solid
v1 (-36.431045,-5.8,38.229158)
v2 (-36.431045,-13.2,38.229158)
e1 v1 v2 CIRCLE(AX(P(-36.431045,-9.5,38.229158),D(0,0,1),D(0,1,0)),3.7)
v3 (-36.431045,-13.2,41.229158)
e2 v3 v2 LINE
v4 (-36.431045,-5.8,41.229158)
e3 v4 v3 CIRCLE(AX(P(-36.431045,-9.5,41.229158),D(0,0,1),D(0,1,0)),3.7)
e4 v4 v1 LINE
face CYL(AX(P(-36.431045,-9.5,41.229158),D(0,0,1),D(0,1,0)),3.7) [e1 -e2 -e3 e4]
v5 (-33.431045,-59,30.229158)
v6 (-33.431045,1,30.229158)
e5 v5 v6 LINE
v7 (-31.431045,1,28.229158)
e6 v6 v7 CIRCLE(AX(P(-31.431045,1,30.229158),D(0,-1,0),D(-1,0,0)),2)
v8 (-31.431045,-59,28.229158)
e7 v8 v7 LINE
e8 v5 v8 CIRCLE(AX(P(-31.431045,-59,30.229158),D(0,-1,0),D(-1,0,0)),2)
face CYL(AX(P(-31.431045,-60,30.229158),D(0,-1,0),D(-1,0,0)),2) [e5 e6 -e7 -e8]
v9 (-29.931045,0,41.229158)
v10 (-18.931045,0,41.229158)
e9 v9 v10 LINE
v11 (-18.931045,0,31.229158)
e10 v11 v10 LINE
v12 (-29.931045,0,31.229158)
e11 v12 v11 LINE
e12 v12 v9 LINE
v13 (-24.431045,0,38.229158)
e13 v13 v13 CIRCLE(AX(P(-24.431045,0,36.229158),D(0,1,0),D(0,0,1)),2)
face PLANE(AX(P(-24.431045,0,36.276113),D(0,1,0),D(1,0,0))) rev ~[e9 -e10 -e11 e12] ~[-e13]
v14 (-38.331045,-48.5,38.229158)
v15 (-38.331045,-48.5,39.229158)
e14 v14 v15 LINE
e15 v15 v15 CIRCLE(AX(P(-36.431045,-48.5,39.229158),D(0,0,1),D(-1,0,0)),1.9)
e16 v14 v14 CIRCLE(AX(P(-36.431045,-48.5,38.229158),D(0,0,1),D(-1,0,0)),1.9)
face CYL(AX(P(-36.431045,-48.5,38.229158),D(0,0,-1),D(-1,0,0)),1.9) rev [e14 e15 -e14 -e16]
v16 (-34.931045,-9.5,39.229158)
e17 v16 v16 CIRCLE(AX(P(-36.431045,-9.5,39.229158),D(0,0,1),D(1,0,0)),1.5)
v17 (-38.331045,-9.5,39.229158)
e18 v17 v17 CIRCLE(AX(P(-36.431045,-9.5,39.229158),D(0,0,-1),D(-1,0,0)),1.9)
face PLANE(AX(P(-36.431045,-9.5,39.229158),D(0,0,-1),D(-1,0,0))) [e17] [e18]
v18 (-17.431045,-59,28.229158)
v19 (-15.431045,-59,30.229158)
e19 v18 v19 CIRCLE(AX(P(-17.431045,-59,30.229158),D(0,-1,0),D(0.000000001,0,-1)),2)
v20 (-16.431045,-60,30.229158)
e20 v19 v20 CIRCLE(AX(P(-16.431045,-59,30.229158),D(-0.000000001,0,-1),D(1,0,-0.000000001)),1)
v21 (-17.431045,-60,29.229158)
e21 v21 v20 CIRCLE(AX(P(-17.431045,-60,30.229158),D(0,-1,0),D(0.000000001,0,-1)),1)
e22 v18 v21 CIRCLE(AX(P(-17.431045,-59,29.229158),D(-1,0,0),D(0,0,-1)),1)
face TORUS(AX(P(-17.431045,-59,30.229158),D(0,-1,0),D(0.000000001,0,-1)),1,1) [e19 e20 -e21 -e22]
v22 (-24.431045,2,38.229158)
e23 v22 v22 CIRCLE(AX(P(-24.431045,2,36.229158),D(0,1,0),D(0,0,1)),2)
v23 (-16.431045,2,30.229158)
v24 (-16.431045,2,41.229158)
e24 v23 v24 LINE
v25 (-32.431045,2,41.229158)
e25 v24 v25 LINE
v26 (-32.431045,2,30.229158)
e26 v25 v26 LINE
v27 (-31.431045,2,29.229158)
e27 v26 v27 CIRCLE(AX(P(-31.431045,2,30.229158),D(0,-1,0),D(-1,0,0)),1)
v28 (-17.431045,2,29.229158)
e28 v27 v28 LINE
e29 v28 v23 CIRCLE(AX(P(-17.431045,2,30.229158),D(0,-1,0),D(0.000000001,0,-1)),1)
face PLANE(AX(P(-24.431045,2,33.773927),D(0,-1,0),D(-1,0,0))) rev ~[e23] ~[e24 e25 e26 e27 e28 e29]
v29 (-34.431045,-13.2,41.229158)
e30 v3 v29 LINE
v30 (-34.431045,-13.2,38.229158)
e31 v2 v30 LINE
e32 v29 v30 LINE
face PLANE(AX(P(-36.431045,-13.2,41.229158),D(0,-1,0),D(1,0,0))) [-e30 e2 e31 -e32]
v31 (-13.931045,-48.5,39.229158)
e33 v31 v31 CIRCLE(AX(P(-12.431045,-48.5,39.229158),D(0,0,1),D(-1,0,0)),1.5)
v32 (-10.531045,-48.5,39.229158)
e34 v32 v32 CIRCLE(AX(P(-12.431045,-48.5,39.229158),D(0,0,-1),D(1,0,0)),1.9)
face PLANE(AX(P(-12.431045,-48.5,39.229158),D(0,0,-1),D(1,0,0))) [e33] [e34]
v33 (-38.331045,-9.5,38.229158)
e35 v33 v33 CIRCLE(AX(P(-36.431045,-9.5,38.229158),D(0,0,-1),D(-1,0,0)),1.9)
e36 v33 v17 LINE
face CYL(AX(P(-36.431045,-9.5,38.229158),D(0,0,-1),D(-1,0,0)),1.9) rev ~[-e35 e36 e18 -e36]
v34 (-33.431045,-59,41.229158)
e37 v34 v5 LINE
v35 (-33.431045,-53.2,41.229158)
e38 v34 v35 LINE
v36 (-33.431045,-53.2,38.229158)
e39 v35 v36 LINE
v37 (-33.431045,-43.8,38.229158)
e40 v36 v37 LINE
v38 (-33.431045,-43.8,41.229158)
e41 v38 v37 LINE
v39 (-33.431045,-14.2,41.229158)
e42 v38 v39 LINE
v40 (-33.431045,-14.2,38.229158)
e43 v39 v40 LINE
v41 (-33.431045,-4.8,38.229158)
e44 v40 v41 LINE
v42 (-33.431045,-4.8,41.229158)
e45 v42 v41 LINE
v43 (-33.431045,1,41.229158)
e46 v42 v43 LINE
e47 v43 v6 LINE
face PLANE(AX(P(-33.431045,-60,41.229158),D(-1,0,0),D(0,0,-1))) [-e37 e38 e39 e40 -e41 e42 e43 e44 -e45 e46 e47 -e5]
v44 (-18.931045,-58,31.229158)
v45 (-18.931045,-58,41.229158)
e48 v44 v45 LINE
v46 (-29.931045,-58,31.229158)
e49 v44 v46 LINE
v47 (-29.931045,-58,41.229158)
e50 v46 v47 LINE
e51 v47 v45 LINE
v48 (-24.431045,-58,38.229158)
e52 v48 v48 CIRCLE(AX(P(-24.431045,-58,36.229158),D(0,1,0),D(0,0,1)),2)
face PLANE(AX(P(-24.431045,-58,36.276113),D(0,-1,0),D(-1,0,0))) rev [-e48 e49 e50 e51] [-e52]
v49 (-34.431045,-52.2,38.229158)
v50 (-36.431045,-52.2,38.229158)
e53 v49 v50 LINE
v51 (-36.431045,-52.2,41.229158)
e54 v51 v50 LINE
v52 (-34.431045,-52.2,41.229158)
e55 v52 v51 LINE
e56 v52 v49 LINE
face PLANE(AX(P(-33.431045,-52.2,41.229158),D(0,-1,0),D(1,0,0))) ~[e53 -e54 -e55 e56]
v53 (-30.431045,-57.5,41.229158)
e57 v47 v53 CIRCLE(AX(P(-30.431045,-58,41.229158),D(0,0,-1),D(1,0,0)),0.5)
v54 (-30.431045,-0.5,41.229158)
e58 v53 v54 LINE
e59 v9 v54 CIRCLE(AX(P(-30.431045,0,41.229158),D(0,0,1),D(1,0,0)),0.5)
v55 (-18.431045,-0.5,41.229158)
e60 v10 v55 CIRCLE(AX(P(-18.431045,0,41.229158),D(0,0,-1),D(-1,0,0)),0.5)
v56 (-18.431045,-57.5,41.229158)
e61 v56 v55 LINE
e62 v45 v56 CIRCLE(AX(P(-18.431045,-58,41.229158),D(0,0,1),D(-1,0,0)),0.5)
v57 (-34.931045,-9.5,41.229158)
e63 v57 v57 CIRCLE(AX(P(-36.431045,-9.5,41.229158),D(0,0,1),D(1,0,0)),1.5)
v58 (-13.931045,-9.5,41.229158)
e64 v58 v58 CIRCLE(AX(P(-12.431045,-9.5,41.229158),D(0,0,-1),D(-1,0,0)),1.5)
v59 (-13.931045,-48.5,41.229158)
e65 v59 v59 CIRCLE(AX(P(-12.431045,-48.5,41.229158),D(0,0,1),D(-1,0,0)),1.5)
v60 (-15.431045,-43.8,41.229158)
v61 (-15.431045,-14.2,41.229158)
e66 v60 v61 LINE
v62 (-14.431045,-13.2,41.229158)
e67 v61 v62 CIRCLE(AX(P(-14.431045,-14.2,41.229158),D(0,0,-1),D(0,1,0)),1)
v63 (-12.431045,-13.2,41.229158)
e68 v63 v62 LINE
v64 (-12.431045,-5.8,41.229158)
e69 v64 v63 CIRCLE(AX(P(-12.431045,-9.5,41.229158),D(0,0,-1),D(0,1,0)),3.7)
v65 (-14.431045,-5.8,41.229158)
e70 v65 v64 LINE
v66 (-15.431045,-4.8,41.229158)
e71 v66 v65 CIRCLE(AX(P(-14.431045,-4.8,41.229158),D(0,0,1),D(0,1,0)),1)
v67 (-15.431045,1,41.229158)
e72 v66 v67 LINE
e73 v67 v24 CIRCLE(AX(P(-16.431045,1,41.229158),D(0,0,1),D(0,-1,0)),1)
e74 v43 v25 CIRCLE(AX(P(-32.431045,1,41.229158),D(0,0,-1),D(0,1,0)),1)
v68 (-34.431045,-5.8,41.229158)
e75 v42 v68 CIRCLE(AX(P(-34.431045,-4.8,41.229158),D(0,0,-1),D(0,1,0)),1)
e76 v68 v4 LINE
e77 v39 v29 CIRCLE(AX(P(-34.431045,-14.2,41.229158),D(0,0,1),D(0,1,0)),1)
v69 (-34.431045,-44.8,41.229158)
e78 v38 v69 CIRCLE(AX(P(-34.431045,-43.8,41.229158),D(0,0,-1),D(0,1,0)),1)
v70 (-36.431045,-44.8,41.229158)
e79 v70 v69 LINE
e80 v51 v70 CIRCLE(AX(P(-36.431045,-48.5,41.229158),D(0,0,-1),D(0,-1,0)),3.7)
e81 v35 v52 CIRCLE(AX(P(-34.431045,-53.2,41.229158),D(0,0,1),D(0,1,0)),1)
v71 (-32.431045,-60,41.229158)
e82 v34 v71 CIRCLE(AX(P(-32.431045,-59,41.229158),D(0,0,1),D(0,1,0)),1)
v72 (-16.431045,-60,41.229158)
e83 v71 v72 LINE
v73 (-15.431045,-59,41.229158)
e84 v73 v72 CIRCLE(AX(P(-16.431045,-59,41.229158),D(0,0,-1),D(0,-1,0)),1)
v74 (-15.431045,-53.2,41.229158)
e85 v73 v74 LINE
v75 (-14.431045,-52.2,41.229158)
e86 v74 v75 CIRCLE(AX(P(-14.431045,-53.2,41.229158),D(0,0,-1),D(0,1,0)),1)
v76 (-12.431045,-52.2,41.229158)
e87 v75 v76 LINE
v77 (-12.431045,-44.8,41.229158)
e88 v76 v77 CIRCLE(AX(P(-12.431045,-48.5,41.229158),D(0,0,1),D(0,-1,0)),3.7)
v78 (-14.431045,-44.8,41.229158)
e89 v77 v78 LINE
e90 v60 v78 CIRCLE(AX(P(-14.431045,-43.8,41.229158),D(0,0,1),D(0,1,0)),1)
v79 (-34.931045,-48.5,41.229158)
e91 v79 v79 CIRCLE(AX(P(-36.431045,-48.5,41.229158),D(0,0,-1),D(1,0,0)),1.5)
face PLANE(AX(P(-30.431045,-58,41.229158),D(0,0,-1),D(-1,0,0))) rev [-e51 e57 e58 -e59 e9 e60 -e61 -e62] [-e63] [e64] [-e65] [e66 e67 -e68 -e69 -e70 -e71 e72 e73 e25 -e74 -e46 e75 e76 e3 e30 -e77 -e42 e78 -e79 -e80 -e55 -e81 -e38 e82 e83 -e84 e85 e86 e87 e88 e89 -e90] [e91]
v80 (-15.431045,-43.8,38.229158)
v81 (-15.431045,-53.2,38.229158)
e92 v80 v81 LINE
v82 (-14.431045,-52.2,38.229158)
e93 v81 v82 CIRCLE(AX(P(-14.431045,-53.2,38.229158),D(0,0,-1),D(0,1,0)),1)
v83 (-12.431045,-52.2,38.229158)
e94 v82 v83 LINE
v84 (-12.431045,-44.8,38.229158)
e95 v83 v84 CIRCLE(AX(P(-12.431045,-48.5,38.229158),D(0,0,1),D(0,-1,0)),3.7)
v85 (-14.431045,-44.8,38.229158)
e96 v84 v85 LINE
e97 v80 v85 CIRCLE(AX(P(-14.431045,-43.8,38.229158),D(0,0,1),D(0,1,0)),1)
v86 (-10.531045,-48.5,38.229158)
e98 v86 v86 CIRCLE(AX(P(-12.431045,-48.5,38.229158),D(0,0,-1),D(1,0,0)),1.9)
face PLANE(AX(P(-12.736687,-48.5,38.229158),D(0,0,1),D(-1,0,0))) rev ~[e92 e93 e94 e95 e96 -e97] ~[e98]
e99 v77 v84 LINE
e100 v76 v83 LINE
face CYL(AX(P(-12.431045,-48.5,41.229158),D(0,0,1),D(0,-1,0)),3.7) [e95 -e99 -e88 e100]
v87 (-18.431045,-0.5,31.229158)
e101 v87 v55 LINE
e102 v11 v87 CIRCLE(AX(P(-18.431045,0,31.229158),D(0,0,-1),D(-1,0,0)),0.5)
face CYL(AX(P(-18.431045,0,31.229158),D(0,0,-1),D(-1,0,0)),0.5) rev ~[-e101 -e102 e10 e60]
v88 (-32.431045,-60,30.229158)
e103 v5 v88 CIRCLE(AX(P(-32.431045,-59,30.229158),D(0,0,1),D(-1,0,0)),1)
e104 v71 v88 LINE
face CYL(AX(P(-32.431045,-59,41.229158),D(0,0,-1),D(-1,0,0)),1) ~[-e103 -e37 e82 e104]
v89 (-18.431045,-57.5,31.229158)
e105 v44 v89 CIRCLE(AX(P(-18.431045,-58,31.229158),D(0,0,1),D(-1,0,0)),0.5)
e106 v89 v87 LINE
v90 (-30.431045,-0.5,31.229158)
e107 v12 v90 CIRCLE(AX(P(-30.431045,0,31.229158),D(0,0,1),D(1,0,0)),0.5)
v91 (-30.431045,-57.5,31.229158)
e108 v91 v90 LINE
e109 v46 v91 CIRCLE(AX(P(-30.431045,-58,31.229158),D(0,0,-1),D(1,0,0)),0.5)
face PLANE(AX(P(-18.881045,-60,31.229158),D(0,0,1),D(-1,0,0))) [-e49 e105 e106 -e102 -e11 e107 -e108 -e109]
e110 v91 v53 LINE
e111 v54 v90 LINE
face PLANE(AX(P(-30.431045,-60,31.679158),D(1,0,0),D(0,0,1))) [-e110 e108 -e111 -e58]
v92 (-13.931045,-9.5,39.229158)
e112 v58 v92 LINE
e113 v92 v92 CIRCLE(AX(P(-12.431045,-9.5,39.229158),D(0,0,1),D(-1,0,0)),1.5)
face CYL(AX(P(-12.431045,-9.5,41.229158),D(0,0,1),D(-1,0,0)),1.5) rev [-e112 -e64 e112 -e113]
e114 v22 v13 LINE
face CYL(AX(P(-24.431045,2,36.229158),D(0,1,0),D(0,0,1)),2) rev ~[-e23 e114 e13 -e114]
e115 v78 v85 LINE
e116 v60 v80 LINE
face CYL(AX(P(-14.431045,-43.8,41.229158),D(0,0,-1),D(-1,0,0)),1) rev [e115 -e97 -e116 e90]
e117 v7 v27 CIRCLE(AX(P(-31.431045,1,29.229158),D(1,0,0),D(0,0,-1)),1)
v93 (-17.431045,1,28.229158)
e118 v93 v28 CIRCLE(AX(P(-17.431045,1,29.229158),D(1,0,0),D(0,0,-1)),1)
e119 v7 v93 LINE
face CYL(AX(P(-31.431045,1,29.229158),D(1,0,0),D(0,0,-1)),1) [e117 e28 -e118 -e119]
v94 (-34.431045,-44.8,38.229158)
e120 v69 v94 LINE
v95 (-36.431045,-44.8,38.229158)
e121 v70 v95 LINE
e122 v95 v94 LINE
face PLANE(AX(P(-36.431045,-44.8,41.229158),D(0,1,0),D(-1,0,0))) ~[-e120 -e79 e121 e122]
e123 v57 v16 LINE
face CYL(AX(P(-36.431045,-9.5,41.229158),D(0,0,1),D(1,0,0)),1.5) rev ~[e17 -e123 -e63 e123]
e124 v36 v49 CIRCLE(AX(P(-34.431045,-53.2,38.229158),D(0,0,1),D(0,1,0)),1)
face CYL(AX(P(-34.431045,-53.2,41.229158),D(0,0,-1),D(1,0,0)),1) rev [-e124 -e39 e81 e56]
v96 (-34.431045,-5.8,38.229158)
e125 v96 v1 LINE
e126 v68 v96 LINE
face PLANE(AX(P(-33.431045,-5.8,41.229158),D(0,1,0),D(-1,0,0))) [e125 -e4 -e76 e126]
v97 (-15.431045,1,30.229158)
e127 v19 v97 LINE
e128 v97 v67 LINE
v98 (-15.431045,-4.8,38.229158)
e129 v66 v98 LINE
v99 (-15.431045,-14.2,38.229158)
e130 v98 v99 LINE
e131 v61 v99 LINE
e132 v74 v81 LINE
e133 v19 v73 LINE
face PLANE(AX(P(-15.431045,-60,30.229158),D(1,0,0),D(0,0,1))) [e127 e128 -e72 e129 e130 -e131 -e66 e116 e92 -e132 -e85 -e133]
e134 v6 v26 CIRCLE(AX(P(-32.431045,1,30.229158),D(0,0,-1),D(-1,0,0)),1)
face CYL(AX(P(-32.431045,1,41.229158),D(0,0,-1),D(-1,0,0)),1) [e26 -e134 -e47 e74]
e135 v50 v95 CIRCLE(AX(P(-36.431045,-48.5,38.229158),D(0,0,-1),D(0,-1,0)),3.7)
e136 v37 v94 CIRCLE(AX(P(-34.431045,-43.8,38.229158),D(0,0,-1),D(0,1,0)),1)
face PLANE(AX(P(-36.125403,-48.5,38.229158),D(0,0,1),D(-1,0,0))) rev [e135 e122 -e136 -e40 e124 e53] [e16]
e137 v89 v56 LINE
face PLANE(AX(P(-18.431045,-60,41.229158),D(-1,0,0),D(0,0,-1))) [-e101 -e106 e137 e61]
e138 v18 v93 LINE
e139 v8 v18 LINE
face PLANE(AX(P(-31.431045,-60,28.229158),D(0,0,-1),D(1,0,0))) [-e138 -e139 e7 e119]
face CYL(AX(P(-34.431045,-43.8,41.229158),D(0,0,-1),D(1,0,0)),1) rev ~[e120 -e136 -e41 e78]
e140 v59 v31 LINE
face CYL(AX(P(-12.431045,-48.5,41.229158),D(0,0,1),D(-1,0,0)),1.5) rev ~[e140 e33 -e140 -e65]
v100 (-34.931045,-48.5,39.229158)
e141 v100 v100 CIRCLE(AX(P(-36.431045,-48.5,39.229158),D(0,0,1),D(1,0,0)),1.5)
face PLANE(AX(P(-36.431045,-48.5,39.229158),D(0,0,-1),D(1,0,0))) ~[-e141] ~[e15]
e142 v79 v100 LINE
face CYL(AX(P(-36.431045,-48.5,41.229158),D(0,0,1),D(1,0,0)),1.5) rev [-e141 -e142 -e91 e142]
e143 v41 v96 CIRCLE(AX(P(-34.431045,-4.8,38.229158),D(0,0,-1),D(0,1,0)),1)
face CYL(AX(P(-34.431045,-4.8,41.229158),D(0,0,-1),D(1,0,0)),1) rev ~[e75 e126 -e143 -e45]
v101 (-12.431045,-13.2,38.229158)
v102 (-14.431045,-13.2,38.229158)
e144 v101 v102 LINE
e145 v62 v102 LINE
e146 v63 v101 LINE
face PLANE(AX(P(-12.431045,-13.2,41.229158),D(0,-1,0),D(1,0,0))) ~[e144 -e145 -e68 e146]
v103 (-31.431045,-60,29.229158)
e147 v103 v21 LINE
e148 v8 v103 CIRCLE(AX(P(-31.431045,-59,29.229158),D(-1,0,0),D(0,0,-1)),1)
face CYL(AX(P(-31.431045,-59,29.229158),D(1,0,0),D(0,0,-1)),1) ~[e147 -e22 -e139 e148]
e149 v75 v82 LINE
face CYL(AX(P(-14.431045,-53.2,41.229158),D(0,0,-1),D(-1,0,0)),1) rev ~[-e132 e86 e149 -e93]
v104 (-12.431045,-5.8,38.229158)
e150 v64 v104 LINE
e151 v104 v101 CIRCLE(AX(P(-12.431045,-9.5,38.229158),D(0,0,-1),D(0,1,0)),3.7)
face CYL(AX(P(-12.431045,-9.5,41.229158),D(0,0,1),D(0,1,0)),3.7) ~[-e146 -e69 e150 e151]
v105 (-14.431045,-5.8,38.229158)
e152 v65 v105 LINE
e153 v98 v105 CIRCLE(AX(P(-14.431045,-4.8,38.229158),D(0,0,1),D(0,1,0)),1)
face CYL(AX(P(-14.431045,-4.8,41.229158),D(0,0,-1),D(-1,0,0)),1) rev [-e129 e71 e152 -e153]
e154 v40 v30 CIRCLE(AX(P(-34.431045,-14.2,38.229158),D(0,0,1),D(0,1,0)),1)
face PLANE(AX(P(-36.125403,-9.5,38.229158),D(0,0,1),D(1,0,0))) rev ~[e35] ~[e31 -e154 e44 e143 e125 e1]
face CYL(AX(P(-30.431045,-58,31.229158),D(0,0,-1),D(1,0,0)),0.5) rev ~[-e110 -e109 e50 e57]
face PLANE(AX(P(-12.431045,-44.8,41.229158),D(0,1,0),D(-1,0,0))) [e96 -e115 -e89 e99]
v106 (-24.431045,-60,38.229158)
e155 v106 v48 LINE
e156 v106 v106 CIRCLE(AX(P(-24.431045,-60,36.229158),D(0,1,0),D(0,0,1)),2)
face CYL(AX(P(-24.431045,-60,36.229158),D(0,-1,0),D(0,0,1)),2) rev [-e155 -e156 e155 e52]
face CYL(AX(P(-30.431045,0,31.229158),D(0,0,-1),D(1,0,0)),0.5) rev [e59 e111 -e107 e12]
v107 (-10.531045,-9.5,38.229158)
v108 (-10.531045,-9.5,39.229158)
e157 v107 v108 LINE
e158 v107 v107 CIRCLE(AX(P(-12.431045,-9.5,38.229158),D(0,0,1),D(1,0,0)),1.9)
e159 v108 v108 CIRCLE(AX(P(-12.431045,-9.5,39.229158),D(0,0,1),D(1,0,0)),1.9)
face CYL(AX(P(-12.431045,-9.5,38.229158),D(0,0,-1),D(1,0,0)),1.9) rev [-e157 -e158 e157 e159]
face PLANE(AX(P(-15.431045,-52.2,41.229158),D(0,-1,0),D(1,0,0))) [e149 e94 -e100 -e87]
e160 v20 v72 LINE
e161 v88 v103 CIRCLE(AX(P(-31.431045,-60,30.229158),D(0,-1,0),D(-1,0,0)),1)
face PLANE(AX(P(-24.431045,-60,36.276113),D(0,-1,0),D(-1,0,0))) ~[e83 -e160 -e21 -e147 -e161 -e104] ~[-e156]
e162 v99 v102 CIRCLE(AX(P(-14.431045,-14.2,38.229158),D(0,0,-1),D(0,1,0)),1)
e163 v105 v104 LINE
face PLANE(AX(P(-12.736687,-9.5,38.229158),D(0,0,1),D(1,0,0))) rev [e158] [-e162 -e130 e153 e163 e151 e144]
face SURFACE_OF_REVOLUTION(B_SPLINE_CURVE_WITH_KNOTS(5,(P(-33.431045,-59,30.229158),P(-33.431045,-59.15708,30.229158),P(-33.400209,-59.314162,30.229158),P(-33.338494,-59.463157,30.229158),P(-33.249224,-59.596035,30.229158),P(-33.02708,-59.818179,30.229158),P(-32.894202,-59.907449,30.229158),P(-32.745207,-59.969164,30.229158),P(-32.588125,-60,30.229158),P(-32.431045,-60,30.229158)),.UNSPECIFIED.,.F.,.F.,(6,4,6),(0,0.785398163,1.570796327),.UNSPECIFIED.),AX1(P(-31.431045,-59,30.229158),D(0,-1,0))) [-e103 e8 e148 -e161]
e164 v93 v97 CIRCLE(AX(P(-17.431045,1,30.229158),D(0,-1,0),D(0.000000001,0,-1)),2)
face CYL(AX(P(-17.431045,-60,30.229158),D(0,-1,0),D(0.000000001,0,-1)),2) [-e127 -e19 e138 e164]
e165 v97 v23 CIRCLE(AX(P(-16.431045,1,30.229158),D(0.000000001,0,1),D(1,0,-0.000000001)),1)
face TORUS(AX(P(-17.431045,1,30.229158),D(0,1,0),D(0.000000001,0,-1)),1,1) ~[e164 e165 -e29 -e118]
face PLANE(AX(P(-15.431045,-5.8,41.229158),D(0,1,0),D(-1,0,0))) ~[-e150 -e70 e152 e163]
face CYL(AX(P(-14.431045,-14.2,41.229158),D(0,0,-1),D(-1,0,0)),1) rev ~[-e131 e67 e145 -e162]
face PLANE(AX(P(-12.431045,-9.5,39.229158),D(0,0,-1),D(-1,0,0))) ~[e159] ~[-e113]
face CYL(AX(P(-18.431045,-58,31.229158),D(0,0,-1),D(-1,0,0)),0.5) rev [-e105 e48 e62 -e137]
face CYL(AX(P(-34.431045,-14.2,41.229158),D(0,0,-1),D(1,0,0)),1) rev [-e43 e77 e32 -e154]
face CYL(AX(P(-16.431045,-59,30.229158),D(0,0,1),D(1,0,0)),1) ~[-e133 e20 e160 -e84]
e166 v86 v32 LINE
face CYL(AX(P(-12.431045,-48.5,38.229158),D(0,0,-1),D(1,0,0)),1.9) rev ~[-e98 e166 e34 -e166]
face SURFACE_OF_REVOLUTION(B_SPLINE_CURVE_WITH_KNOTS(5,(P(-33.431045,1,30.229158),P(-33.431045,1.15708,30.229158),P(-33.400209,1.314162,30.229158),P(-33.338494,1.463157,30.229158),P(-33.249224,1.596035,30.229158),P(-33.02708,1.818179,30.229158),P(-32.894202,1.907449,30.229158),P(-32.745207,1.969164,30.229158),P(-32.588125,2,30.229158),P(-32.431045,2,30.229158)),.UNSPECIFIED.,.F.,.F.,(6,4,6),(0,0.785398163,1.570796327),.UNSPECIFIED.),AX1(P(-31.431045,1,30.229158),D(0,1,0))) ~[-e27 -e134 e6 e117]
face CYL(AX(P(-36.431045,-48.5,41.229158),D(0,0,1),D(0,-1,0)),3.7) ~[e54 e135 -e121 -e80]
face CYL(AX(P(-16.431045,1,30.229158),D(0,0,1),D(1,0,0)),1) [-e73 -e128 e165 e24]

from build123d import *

# Parameters (mm, degrees)
RESSALTO_EXTRUS_O1_DEPTH  = 2
ESBO_O2_R                 = 2
CORTE_EXTRUS_O1_DEPTH     = 2
RESSALTO_EXTRUS_O2_START  = -62
RESSALTO_EXTRUS_O2_DEPTH  = 62
ESBO_O4_R                 = 1.5
RESSALTO_EXTRUS_O4_DEPTH  = 3
FILETE2_R                 = 1
FILETE3_R                 = 1
ESBO_O6_R                 = 1.9
CORTE_EXTRUS_O2_DEPTH     = 1
ESPELHAR3_COPY_1_SKETCH_R = 1.5
ESPELHAR3_COPY_1_DEPTH    = 3
ESPELHAR3_COPY_2_SKETCH_R = 1.9
ESPELHAR3_COPY_2_DEPTH    = 1
FILETE4_R                 = 1
CORTE_EXTRUS_O3_START     = -10
ESBO_O7_W                 = 12
ESBO_O7_H                 = 58
CORTE_EXTRUS_O3_DEPTH     = 10
ESPELHAR5_START           = -10
ESPELHAR5_COPY_1_SKETCH_W = 12
ESPELHAR5_COPY_1_SKETCH_H = 58
ESPELHAR5_COPY_1_DEPTH    = 10


with BuildPart() as part:
    # Esboço1 → Ressalto-extrusão1 (new body)
    with BuildSketch(Plane(origin=(0, 0, 0), x_dir=(1, 0, 0), z_dir=(0, 1, 0))):
        with BuildLine():
            Line((-30.431045005, -40.729157749), (-30.431045005, -41.229157749))
            Line((-30.431045005, -41.229157749), (-29.931045005, -41.229157749))
            Line((-29.931045005, -41.229157749), (-18.931045005, -41.229157749))
            Line((-18.931045005, -41.229157749), (-18.431045005, -41.229157749))
            Line((-18.431045005, -41.229157749), (-18.431045005, -40.729157749))
            Line((-18.431045005, -40.729157749), (-18.431045005, -31.729157749))
            Line((-18.431045005, -31.729157749), (-18.431045005, -31.679157749))
            ThreePointArc((-18.431045005, -31.679157749), (-18.562846954, -31.360959697), (-18.881045005, -31.229157749))
            Line((-18.881045005, -31.229157749), (-18.931045005, -31.229157749))
            Line((-18.931045005, -31.229157749), (-29.931045005, -31.229157749))
            Line((-29.931045005, -31.229157749), (-29.981045005, -31.229157749))
            ThreePointArc((-29.981045005, -31.229157749), (-30.299243057, -31.360959697), (-30.431045005, -31.679157749))
            Line((-30.431045005, -31.679157749), (-30.431045005, -31.729157749))
            Line((-30.431045005, -31.729157749), (-30.431045005, -40.729157749))
        make_face()
    ressalto_extrus_o1 = extrude(amount=RESSALTO_EXTRUS_O1_DEPTH)

    # Esboço2 → Corte-extrusão1 (cut)
    with BuildSketch(Plane(origin=(0, 2, 0), x_dir=(1, 0, 0), z_dir=(0, 1, 0))):
        with Locations(Location((-24.431045005, -36.229157749, 0), (0, 0, 270))):
            Circle(ESBO_O2_R)
    corte_extrus_o1 = extrude(amount=-CORTE_EXTRUS_O1_DEPTH, mode=Mode.SUBTRACT)

    # Esboço3 → Ressalto-extrusão2 (add)
    with BuildSketch(Plane(origin=(0, 2, 0), x_dir=(1, 0, 0), z_dir=(0, 1, 0)).offset(RESSALTO_EXTRUS_O2_START)):
        with BuildLine():
            Line((-29.931045005, -31.229157749), (-29.981045005, -31.229157749))
            ThreePointArc((-29.981045005, -31.229157749), (-30.299243057, -31.360959697), (-30.431045005, -31.679157749))
            Line((-30.431045005, -31.679157749), (-30.431045005, -32.172163455))
            Line((-30.431045005, -32.172163455), (-30.431045005, -41.229157749))
            Line((-30.431045005, -41.229157749), (-33.431045005, -41.229157749))
            Line((-33.431045005, -41.229157749), (-33.431045005, -30.229157749))
            ThreePointArc((-33.431045005, -30.229157749), (-32.845258568, -28.814944187), (-31.431045005, -28.229157749))
            Line((-31.431045005, -28.229157749), (-17.431045005, -28.229157749))
            ThreePointArc((-17.431045005, -28.229157749), (-16.016831443, -28.814944187), (-15.431045005, -30.229157749))
            Line((-15.431045005, -30.229157749), (-15.431045005, -41.229157749))
            Line((-15.431045005, -41.229157749), (-18.431045005, -41.229157749))
            Line((-18.431045005, -41.229157749), (-18.431045005, -31.679157749))
            ThreePointArc((-18.431045005, -31.679157749), (-18.562846954, -31.360959697), (-18.881045005, -31.229157749))
            Line((-18.881045005, -31.229157749), (-29.931045005, -31.229157749))
        make_face()
    extrude(amount=RESSALTO_EXTRUS_O2_DEPTH)

    # Esboço4 → Ressalto-extrusão4 (add)
    with BuildSketch(Plane.XY.offset(41.229157749)):
        with BuildLine():
            Line((-33.431045005, -5.8), (-36.431045005, -5.8))
            ThreePointArc((-36.431045005, -5.8), (-40.131045005, -9.5), (-36.431045005, -13.2))
            Line((-36.431045005, -13.2), (-33.431045005, -13.2))
            Line((-33.431045005, -13.2), (-33.431045005, -5.8))
        make_face()
        with Locations((-36.431045005, -9.5)):
            Circle(ESBO_O4_R, mode=Mode.SUBTRACT)
    ressalto_extrus_o4 = extrude(amount=-RESSALTO_EXTRUS_O4_DEPTH)

    # Filete2
    filete2_edges = [part.edges().sort_by_distance(p)[0] for p in [
        (-33.431045005, -5.8, 39.729157749),
        (-33.431045005, -13.2, 39.729157749),
    ]]
    fillet(filete2_edges, radius=FILETE2_R)

    # Espelhar1: Ressalto-extrusão1, Corte-extrusão1 across plane
    add(ressalto_extrus_o1.mirror(Plane.ZX.offset(-29)))
    add(corte_extrus_o1.mirror(Plane.ZX.offset(-29)), mode=Mode.SUBTRACT)

    # Filete3
    filete3_edges = [part.edges().sort_by_distance(p)[0] for p in [
        (-33.431045005, -60, 35.729157749),
        (-32.845258568, -60, 28.814944187),
        (-24.431045005, -60, 28.229157749),
        (-16.016831443, -60, 28.814944187),
        (-15.431045005, -60, 35.729157749),
        (-15.431045005, 2, 35.729157749),
        (-16.016831443, 2, 28.814944187),
        (-24.431045005, 2, 28.229157749),
        (-32.845258568, 2, 28.814944187),
        (-33.431045005, 2, 35.729157749),
    ]]
    fillet(filete3_edges, radius=FILETE3_R)

    # Esboço6 → Corte-extrusão2 (cut)
    with BuildSketch(Plane(origin=(0, 0, 38.229157749), x_dir=(-1, 0, 0), z_dir=(0, 0, -1))):
        with Locations((36.431045005, -9.5)):
            Circle(ESBO_O6_R)
    corte_extrus_o2 = extrude(amount=-CORTE_EXTRUS_O2_DEPTH, mode=Mode.SUBTRACT)

    # Espelhar2: Ressalto-extrusão4, Corte-extrusão2 across plane
    add(ressalto_extrus_o4.mirror(Plane(origin=(-24.431045005, 0, 0), x_dir=(0, 0, 1), z_dir=(1, 0, 0))))
    add(corte_extrus_o2.mirror(Plane(origin=(-24.431045005, 0, 0), x_dir=(0, 0, 1), z_dir=(1, 0, 0))), mode=Mode.SUBTRACT)

    # Espelhar3: Ressalto-extrusão4, Corte-extrusão2 across plane
    add(ressalto_extrus_o4.mirror(Plane.ZX.offset(-29)))
    add(corte_extrus_o2.mirror(Plane.ZX.offset(-29)), mode=Mode.SUBTRACT)

    # Espelhar3 copy 1 sketch → Espelhar3 copy 1 (add)
    with BuildSketch(Plane(origin=(-48.86209001, -58, 41.229157749), x_dir=(-1, 0, 0), z_dir=(0, 0, 1))):
        with BuildLine():
            Line((-33.431045005, -5.8), (-36.431045005, -5.8))
            ThreePointArc((-36.431045005, -5.8), (-40.131045005, -9.5), (-36.431045005, -13.2))
            Line((-36.431045005, -13.2), (-33.431045005, -13.2))
            Line((-33.431045005, -13.2), (-33.431045005, -5.8))
        make_face()
        with Locations((-36.431045005, -9.5)):
            Circle(ESPELHAR3_COPY_1_SKETCH_R, mode=Mode.SUBTRACT)
    extrude(amount=-ESPELHAR3_COPY_1_DEPTH)

    # Espelhar3 copy 2 sketch → Espelhar3 copy 2 (cut)
    with BuildSketch(Plane(origin=(-48.86209001, -58, 38.229157749), x_dir=(1, 0, 0), z_dir=(0, 0, -1))):
        with Locations((36.431045005, -9.5)):
            Circle(ESPELHAR3_COPY_2_SKETCH_R)
    extrude(amount=-ESPELHAR3_COPY_2_DEPTH, mode=Mode.SUBTRACT)

    # Filete4
    filete4_edges = [part.edges().sort_by_distance(p)[0] for p in [
        (-15.431045005, -5.8, 39.729157749),
        (-15.431045005, -13.2, 39.729157749),
        (-15.431045005, -52.2, 39.729157749),
        (-15.431045005, -44.8, 39.729157749),
        (-33.431045005, -52.2, 39.729157749),
        (-33.431045005, -44.8, 39.729157749),
    ]]
    fillet(filete4_edges, radius=FILETE4_R)

    # Esboço7 → Corte-extrusão3 (cut)
    with BuildSketch(Plane.XY.offset(41.229157749).offset(CORTE_EXTRUS_O3_START)):
        with Locations((-24.431045005, -29)):
            Rectangle(ESBO_O7_W, ESBO_O7_H)
        with BuildLine():
            Line((-30.431045005, -0.5), (-30.431045005, 0))
            Line((-30.431045005, 0), (-29.931045005, 0))
            ThreePointArc((-29.931045005, 0), (-30.784598396, 0.353553391), (-30.431045005, -0.5))
        make_face()
    corte_extrus_o3 = extrude(amount=CORTE_EXTRUS_O3_DEPTH, mode=Mode.SUBTRACT)

    # Espelhar4: Corte-extrusão3 across plane
    add(corte_extrus_o3.mirror(Plane(origin=(-24.431045005, 0, 0), x_dir=(0, 0, 1), z_dir=(1, 0, 0))), mode=Mode.SUBTRACT)

    # Espelhar5: Corte-extrusão3 across plane
    add(corte_extrus_o3.mirror(Plane.ZX.offset(-29)), mode=Mode.SUBTRACT)

    # Espelhar5 copy 1 sketch → Espelhar5 copy 1 (cut)
    with BuildSketch(Plane(origin=(-48.86209001, -58, 41.229157749), x_dir=(-1, 0, 0), z_dir=(0, 0, 1)).offset(ESPELHAR5_START)):
        with Locations((-24.431045005, -29)):
            Rectangle(ESPELHAR5_COPY_1_SKETCH_W, ESPELHAR5_COPY_1_SKETCH_H)
        with BuildLine():
            Line((-30.431045005, -0.5), (-30.431045005, 0))
            Line((-30.431045005, 0), (-29.931045005, 0))
            ThreePointArc((-29.931045005, 0), (-30.784598396, 0.353553391), (-30.431045005, -0.5))
        make_face()
    extrude(amount=ESPELHAR5_COPY_1_DEPTH, mode=Mode.SUBTRACT)


solid = part.part
